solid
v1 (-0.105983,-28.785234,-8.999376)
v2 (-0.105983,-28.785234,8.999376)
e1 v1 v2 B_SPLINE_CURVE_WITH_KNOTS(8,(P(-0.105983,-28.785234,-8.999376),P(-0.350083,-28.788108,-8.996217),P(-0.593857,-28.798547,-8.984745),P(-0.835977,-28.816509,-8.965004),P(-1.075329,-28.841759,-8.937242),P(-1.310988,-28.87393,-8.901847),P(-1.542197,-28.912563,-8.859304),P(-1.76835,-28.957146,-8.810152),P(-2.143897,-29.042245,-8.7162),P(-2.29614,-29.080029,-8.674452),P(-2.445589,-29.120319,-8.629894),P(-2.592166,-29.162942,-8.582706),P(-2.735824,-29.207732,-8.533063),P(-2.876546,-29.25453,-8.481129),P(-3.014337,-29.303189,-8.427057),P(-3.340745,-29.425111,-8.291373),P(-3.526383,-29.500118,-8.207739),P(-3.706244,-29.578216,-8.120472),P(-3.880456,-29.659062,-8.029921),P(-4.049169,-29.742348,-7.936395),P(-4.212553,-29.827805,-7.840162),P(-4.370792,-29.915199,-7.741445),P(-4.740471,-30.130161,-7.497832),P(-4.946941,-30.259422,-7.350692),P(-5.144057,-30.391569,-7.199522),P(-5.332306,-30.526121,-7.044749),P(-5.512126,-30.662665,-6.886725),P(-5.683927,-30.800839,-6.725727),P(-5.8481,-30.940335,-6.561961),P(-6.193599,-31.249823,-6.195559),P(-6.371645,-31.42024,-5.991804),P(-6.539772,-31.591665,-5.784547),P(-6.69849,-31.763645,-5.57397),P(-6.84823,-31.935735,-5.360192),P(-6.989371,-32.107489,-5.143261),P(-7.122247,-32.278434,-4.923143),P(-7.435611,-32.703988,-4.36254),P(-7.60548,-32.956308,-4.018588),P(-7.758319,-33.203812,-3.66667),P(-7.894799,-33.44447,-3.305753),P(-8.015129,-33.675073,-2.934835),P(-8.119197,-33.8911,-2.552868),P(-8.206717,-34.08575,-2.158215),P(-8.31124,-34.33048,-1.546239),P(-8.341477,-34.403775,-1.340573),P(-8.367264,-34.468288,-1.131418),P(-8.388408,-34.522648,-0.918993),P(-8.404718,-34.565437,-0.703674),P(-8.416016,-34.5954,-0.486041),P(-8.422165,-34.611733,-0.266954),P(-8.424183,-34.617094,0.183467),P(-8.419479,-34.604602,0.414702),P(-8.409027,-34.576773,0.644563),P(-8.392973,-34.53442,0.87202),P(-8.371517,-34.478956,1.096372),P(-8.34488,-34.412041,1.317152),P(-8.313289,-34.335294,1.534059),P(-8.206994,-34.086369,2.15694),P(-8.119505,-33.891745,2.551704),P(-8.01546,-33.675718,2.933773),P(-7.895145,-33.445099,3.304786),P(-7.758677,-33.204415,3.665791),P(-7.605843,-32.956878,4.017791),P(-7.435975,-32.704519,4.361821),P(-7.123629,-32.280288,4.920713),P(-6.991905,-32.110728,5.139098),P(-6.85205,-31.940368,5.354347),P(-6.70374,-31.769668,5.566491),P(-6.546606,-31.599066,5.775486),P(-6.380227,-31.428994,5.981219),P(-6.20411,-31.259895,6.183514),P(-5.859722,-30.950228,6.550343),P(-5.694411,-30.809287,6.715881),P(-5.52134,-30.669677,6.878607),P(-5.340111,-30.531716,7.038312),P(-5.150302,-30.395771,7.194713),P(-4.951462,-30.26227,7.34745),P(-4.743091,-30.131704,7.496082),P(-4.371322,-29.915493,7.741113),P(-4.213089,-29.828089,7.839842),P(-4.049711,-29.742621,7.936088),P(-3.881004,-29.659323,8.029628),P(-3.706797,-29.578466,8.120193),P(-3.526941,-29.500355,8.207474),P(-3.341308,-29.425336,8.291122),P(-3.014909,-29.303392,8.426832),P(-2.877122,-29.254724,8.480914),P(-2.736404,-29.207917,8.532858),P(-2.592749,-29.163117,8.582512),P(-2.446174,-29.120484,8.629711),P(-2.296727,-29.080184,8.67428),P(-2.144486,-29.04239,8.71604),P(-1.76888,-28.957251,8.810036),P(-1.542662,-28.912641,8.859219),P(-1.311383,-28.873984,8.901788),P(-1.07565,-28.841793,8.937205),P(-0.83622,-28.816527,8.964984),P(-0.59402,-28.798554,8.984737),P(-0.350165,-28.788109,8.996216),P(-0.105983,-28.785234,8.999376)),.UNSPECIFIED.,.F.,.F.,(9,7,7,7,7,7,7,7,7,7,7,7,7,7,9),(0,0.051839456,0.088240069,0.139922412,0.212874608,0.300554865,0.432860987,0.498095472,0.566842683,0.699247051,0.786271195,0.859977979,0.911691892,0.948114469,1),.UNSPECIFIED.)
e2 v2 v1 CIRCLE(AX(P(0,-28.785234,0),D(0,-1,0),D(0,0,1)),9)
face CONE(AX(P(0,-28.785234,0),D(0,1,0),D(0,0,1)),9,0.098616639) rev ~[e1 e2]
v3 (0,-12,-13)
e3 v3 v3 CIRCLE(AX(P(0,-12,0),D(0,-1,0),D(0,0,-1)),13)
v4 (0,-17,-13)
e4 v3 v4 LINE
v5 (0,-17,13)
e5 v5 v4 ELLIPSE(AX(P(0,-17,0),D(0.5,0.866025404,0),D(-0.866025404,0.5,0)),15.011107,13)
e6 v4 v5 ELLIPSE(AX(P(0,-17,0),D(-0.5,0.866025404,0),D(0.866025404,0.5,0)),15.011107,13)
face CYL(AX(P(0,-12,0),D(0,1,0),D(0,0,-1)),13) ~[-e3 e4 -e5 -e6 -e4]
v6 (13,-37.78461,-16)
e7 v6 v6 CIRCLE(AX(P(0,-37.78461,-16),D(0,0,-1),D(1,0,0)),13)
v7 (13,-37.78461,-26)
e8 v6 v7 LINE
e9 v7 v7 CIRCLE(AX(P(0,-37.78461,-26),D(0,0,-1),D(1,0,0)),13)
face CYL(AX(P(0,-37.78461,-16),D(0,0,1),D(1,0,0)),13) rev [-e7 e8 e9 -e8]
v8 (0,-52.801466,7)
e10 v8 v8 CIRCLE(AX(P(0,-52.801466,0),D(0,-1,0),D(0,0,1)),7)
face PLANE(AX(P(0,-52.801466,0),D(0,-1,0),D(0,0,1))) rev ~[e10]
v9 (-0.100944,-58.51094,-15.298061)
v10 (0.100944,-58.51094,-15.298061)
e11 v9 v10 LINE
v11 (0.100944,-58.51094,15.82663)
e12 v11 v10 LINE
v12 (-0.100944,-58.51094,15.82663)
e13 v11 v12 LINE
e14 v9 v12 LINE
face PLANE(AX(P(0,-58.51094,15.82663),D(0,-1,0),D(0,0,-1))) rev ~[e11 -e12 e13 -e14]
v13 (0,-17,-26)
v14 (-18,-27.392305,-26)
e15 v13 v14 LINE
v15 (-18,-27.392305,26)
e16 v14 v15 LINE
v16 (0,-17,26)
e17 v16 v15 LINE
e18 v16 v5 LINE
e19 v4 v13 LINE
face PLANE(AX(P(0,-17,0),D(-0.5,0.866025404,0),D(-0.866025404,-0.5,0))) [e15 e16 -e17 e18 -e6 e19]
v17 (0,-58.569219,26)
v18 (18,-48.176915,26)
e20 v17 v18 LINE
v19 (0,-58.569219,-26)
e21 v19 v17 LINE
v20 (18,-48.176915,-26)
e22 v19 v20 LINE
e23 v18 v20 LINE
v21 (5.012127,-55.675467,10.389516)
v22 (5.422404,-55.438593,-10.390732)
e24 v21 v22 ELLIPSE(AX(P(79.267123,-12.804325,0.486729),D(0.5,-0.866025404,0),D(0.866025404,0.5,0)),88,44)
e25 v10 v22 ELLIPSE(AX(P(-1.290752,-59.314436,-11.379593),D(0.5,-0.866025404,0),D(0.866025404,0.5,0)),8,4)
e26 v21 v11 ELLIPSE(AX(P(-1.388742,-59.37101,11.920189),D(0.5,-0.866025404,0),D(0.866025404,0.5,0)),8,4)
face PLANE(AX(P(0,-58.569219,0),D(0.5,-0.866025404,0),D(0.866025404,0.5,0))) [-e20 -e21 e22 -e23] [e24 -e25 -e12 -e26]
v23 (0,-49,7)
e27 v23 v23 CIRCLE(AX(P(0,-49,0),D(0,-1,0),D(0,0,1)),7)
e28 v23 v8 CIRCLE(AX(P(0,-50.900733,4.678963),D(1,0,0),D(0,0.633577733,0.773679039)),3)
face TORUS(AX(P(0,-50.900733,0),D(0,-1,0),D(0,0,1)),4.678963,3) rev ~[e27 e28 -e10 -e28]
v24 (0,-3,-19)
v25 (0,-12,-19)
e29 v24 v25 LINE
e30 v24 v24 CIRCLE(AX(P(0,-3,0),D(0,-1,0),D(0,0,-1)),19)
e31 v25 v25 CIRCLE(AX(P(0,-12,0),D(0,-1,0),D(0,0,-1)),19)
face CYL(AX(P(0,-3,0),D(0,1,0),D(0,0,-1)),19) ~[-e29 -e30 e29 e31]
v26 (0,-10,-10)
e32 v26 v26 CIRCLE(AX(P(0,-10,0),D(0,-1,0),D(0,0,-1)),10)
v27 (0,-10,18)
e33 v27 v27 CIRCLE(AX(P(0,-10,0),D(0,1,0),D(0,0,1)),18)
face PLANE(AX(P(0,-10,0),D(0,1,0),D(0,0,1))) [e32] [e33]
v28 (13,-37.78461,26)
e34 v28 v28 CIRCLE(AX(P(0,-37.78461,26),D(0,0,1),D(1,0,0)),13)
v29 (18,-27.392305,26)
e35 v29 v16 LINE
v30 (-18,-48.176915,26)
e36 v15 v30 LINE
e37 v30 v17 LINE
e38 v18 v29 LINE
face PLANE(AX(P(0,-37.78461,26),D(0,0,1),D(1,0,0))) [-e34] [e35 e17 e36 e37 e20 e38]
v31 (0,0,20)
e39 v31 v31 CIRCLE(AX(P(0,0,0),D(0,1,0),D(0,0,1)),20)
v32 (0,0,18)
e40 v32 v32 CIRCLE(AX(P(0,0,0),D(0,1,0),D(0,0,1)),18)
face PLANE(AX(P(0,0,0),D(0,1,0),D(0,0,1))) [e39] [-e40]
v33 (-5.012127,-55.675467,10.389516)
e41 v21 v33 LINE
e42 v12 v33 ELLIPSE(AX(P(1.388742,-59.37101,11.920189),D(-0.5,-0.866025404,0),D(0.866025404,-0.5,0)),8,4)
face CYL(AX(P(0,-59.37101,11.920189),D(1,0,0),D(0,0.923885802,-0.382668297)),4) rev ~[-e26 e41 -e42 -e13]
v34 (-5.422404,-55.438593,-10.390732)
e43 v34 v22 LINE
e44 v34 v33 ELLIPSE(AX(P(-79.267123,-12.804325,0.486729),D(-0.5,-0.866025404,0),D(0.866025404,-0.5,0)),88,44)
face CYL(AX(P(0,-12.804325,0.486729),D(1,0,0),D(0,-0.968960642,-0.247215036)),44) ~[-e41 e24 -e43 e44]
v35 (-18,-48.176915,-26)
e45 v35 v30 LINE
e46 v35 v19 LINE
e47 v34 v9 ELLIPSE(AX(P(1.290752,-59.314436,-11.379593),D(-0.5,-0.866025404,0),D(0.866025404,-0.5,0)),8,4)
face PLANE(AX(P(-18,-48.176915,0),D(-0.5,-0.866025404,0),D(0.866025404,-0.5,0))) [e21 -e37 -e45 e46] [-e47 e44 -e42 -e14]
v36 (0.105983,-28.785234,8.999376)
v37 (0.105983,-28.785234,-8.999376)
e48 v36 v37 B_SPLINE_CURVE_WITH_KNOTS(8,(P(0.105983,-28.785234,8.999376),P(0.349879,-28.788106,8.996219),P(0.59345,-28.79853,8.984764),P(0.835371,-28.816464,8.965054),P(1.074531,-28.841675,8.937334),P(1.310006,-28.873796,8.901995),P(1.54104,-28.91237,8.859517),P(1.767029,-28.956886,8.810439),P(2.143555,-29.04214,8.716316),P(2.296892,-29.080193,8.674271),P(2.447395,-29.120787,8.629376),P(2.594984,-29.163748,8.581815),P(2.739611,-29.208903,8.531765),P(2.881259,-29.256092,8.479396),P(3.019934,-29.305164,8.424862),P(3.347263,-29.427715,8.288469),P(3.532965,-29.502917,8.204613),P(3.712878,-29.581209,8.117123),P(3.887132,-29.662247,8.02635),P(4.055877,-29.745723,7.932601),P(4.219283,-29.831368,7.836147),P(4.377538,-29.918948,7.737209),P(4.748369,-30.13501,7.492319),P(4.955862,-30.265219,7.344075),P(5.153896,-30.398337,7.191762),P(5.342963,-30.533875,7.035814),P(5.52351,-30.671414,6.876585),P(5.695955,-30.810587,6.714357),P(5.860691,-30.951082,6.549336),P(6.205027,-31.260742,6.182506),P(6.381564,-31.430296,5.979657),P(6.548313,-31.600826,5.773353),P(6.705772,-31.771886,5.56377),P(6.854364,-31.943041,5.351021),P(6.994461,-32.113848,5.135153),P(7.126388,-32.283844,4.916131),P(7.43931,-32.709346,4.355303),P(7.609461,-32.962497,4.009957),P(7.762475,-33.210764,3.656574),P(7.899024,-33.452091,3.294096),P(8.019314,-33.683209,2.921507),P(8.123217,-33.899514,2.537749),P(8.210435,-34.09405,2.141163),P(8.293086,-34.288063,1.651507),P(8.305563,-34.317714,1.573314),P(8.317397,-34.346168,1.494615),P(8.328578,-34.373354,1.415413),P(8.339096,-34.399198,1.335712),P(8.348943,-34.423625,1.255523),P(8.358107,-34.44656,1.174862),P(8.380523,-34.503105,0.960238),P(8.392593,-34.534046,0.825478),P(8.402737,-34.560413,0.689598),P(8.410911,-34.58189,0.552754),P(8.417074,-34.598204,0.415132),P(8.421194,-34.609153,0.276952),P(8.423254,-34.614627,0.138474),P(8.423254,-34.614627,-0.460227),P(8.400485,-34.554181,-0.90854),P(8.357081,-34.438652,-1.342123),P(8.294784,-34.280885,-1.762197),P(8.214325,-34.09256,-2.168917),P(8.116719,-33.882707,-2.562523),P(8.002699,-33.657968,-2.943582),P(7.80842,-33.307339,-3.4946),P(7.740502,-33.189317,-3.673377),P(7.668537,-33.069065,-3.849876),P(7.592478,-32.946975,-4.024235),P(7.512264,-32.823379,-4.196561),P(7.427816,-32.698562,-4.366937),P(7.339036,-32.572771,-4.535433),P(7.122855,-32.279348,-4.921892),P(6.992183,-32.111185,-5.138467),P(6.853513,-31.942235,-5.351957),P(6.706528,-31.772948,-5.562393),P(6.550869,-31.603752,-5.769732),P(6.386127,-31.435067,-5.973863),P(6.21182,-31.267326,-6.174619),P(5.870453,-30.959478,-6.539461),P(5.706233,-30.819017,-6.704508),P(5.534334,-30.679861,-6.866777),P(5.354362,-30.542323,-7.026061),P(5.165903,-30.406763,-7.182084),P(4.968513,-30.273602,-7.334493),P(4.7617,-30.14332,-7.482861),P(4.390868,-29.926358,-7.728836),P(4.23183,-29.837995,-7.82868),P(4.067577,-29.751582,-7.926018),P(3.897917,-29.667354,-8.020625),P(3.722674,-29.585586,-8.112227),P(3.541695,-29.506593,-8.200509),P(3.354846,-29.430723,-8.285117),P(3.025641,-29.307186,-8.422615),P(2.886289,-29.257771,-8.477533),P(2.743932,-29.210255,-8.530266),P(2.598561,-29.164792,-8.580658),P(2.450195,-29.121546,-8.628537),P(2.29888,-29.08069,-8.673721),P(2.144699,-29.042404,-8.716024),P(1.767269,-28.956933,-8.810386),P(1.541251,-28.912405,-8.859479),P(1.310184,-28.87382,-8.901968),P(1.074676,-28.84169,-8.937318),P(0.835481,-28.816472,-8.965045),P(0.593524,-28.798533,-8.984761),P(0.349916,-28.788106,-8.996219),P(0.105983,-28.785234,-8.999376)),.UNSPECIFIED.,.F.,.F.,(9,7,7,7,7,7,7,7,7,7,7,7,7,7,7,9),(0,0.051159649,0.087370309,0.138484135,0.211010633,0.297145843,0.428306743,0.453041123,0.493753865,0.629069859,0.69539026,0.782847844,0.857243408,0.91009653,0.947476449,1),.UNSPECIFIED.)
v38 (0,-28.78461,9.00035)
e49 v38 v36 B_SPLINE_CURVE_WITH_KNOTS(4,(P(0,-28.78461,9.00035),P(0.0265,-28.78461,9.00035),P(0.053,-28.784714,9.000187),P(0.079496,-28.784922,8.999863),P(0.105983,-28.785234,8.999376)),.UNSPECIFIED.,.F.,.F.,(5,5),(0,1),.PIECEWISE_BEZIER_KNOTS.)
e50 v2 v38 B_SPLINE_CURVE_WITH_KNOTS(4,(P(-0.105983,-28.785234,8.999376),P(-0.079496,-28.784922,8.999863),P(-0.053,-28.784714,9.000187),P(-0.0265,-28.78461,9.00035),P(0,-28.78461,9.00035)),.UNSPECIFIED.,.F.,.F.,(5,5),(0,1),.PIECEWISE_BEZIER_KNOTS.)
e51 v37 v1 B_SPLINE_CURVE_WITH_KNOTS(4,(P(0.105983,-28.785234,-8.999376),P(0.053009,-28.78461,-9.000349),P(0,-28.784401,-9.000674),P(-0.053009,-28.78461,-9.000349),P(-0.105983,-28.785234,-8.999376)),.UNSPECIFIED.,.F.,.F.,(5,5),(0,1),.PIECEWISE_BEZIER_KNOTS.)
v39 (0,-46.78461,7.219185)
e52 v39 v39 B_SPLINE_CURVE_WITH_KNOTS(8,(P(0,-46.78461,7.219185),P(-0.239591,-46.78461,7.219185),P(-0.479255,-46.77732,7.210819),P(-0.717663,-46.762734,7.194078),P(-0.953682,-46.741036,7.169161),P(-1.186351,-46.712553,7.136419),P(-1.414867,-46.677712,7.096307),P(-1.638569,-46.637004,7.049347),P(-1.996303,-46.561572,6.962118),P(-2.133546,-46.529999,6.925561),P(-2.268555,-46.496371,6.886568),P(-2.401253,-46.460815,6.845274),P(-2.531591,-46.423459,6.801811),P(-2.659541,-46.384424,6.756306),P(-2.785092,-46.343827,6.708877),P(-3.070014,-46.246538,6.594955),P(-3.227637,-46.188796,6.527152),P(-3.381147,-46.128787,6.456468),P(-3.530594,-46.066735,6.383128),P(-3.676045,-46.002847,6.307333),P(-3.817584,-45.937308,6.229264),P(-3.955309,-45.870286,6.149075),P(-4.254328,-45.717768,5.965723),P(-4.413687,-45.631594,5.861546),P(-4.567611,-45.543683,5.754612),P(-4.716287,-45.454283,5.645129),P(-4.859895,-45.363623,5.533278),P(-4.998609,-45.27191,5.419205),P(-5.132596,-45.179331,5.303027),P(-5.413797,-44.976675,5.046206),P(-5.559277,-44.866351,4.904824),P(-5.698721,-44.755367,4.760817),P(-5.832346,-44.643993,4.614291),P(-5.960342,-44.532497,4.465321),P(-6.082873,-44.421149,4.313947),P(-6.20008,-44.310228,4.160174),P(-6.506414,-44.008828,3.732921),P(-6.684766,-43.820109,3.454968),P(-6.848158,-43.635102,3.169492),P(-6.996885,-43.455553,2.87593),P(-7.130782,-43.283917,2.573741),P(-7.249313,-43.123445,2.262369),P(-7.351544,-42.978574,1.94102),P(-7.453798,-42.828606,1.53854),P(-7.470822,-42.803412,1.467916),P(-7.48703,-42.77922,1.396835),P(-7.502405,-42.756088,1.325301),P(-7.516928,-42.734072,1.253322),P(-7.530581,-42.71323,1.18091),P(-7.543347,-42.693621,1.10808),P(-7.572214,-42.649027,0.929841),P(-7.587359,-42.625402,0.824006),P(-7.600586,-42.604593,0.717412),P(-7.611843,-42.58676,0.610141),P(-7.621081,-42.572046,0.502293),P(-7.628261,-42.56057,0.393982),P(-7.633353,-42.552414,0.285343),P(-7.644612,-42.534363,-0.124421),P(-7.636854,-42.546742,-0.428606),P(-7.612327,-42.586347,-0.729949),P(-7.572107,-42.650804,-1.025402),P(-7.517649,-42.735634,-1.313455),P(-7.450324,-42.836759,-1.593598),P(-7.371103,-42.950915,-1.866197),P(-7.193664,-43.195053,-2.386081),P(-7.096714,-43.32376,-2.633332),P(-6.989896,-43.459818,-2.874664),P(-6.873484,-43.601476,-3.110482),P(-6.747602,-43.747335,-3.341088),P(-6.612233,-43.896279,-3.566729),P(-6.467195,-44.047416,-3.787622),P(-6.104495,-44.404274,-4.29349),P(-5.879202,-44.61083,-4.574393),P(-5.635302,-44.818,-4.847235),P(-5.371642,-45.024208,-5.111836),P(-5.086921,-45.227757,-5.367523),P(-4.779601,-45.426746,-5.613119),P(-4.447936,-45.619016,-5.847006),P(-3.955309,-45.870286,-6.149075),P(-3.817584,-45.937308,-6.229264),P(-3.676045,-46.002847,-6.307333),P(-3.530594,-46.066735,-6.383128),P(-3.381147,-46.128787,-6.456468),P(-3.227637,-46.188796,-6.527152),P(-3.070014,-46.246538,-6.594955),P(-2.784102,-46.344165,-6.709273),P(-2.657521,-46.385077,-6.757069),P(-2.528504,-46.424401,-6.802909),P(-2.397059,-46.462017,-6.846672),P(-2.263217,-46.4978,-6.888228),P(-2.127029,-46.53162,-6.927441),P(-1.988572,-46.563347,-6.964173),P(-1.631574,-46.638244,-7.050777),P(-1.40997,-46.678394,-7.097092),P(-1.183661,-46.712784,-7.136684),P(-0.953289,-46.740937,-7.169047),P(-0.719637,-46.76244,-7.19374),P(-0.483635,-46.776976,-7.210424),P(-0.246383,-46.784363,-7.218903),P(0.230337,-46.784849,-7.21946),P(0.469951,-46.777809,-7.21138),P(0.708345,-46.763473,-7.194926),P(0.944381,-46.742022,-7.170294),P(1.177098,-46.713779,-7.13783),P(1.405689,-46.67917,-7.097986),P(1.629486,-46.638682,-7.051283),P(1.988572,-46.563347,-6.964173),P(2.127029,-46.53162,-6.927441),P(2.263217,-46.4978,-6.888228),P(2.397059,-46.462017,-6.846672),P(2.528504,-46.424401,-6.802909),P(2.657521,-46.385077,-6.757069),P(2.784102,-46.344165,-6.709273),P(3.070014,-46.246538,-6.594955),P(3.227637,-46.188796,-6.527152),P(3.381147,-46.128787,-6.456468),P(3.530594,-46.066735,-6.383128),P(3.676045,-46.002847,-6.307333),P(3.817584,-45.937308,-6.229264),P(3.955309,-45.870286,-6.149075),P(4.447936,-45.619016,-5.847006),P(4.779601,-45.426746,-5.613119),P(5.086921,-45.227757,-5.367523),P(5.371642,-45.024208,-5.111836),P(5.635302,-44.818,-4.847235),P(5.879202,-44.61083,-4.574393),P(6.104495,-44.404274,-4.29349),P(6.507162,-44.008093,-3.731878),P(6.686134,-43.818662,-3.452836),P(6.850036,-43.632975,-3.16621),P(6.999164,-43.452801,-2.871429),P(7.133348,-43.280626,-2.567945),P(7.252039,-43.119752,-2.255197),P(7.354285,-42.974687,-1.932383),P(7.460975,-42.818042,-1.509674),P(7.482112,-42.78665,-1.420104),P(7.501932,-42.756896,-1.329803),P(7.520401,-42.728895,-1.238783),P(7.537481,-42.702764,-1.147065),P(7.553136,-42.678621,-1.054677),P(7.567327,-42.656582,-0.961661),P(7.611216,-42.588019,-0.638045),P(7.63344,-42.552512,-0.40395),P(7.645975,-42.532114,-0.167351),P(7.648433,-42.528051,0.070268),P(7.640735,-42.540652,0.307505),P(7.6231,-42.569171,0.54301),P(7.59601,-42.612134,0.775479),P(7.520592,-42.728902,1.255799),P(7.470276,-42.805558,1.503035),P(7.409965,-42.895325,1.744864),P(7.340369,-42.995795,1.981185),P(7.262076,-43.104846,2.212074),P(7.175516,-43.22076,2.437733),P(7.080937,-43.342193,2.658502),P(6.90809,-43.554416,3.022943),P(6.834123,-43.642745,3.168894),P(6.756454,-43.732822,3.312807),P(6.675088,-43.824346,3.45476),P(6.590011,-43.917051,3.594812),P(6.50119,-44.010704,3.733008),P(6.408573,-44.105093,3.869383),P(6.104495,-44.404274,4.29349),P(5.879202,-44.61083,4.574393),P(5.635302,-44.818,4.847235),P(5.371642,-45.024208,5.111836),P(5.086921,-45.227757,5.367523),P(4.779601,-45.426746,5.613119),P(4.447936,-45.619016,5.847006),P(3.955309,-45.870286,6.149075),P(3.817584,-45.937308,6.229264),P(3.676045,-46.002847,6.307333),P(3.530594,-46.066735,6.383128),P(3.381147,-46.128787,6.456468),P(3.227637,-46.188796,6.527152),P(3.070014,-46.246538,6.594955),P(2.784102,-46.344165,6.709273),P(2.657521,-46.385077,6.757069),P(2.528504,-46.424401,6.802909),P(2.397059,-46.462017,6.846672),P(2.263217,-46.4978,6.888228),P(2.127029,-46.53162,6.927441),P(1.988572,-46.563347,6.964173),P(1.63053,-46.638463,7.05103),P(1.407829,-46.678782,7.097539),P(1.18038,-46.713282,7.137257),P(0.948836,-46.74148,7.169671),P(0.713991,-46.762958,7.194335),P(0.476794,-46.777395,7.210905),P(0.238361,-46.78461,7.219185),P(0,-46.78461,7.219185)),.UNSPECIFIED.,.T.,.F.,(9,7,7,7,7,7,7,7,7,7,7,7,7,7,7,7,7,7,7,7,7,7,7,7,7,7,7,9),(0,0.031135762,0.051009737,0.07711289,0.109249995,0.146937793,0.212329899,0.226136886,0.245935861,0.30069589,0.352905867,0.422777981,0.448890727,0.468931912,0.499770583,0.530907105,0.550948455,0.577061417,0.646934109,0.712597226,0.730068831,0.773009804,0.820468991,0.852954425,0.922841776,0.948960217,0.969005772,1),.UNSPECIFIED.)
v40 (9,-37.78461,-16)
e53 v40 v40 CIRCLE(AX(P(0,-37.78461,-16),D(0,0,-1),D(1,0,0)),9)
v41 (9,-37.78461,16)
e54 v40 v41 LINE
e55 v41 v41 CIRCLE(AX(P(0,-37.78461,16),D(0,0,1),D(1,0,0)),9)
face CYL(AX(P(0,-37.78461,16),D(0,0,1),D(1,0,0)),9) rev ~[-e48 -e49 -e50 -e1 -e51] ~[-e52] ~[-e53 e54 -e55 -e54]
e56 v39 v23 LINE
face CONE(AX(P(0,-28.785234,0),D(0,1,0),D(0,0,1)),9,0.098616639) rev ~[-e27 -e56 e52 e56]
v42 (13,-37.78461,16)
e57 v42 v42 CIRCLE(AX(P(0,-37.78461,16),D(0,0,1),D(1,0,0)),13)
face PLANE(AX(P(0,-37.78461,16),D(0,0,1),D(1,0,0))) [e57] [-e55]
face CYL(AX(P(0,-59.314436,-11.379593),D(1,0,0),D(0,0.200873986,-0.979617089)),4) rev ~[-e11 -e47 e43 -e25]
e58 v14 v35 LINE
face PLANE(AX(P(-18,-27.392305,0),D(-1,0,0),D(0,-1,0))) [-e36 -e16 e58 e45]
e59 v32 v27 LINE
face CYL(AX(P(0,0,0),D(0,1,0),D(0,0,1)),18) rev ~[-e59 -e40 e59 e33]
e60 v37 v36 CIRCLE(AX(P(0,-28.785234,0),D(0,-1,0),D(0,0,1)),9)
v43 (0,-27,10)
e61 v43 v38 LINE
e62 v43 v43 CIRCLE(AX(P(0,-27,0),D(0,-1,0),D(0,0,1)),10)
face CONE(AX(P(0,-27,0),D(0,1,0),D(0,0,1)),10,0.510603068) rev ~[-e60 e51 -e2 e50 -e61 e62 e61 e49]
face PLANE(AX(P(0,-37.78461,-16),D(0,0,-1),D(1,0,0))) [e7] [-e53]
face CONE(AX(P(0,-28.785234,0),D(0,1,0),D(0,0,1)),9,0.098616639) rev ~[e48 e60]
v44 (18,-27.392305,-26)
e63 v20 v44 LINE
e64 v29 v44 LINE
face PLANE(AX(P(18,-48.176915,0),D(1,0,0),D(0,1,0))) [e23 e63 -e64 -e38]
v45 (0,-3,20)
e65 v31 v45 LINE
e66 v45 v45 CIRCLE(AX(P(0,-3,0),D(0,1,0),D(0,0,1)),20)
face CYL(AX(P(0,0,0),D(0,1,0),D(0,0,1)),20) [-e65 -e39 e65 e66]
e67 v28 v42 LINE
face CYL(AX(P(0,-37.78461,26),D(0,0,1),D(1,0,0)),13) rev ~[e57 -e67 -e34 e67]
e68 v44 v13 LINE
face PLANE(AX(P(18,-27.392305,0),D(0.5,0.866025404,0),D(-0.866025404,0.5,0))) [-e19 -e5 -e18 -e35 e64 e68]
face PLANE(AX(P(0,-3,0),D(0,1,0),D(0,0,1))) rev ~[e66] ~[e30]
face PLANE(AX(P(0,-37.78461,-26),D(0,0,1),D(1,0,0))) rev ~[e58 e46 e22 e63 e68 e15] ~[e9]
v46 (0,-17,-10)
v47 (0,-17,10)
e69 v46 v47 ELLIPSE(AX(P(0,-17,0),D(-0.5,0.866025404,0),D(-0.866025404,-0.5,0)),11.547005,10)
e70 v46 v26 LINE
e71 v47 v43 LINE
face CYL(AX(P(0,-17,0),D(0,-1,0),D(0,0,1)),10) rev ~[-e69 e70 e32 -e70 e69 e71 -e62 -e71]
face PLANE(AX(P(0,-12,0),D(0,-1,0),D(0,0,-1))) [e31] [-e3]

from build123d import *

# Parameters (mm, degrees)
SKETCH4_R           = 20
BOSS_EXTRUDE2_DEPTH = 3
SKETCH5_R           = 19
BOSS_EXTRUDE3_DEPTH = 9
SKETCH6_R           = 13
BOSS_EXTRUDE4_DEPTH = 17
SKETCH7_R           = 18
CUT_EXTRUDE3_DEPTH  = 10
SKETCH8_R           = 10
CUT_EXTRUDE4_DEPTH  = 19
BOSS_EXTRUDE5_DEPTH = 26
SKETCH10_R          = 13
CUT_EXTRUDE5_DEPTH  = 10
SKETCH11_R          = 9
CUT_EXTRUDE6_DEPTH  = 26
CUT_EXTRUDE7_START  = -10
SKETCH12_R          = 13
CUT_EXTRUDE7_DEPTH  = 10
CUT_EXTRUDE8_START  = -20
SKETCH13_R          = 9
CUT_EXTRUDE8_DEPTH  = 20
CUT_EXTRUDE15_DEPTH = 10.15


with BuildPart() as part:
    # Sketch4 → Boss-Extrude2 (new body)
    with BuildSketch(Plane(origin=(0, 0, 0), x_dir=(1, 0, 0), z_dir=(0, 1, 0))):
        with Locations(Location((0, 0, 0), (0, 0, 270))):
            Circle(SKETCH4_R)
    extrude(amount=-BOSS_EXTRUDE2_DEPTH)

    # Sketch5 → Boss-Extrude3 (add)
    with BuildSketch(Plane.XZ.offset(3)):
        with Locations(Location((0, 0, 0), (0, 0, 270))):
            Circle(SKETCH5_R)
    extrude(amount=BOSS_EXTRUDE3_DEPTH)

    # Sketch6 → Boss-Extrude4 (add)
    with BuildSketch(Plane.XZ.offset(12)):
        with Locations(Location((0, 0, 0), (0, 0, 270))):
            Circle(SKETCH6_R)
    extrude(amount=BOSS_EXTRUDE4_DEPTH)

    # Sketch7 → Cut-Extrude3 (cut)
    with BuildSketch(Plane(origin=(0, 0, 0), x_dir=(1, 0, 0), z_dir=(0, 1, 0))):
        with Locations(Location((0, 0, 0), (0, 0, 270))):
            Circle(SKETCH7_R)
    extrude(amount=-CUT_EXTRUDE3_DEPTH, mode=Mode.SUBTRACT)

    # Sketch8 → Cut-Extrude4 (cut)
    with BuildSketch(Plane.XZ.offset(29)):
        with Locations(Location((0, 0, 0), (0, 0, 270))):
            Circle(SKETCH8_R)
    extrude(amount=-CUT_EXTRUDE4_DEPTH, mode=Mode.SUBTRACT)

    # Sketch9 → Boss-Extrude5 (add, symmetric)
    with BuildSketch(Plane.XY):
        Polygon((0, -17), (-18, -27.392304845), (-18, -48.176914536), (0, -58.569219382), (18, -48.176914536), (18, -27.392304845), align=None)
    extrude(amount=BOSS_EXTRUDE5_DEPTH, both=True)

    # Sketch10 → Cut-Extrude5 (cut)
    with BuildSketch(Plane.XY.offset(26)):
        with Locations((0, -37.784609691)):
            Circle(SKETCH10_R)
    extrude(amount=-CUT_EXTRUDE5_DEPTH, mode=Mode.SUBTRACT)

    # Sketch11 → Cut-Extrude6 (cut)
    with BuildSketch(Plane.XY.offset(16)):
        with Locations((0, -37.784609691)):
            Circle(SKETCH11_R)
    extrude(amount=-CUT_EXTRUDE6_DEPTH, mode=Mode.SUBTRACT)

    # Sketch12 → Cut-Extrude7 (cut)
    with BuildSketch(Plane(origin=(0, 0, -26), x_dir=(-1, 0, 0), z_dir=(0, 0, -1)).offset(CUT_EXTRUDE7_START)):
        with Locations(Location((0, -37.784609691, 0), (0, 0, 180))):
            Circle(SKETCH12_R)
    extrude(amount=CUT_EXTRUDE7_DEPTH, mode=Mode.SUBTRACT)

    # Sketch13 → Cut-Extrude8 (cut)
    with BuildSketch(Plane(origin=(0, 0, -16), x_dir=(-1, 0, 0), z_dir=(0, 0, -1)).offset(CUT_EXTRUDE8_START)):
        with Locations(Location((0, -37.784609691, 0), (0, 0, 180))):
            Circle(SKETCH13_R)
    extrude(amount=CUT_EXTRUDE8_DEPTH, mode=Mode.SUBTRACT)

    # Sketch30 → Cut-Extrude15 (cut, symmetric)
    with BuildSketch(Plane(origin=(0, 0, 0), x_dir=(0, 0, -1), z_dir=(1, 0, 0))):
        with BuildLine():
            Line((-15.826629517, -58.510939608), (15.298060877, -58.510939608))
            ThreePointArc((15.298060877, -58.510939608), (13.502204004, -55.924078568), (10.390732376, -55.438592985))
            ThreePointArc((10.390732376, -55.438592985), (0.01479369, -56.801466399), (-10.38951563, -55.675466788))
            ThreePointArc((-10.38951563, -55.675466788), (-13.769795356, -55.824327649), (-15.826629517, -58.510939608))
        make_face()
    extrude(amount=CUT_EXTRUDE15_DEPTH, both=True, mode=Mode.SUBTRACT)

    # Sketch36 → Cut-Revolve2 (revolve, cut)
    with BuildSketch(Plane(origin=(0, 0, 0), x_dir=(0, 0, -1), z_dir=(1, 0, 0))):
        with BuildLine():
            Line((-7, -52.801466399), (0, -52.801466399))
            Line((0, -52.801466399), (0, -17))
            Line((0, -17), (-10, -17))
            Line((-10, -17), (-10, -27))
            Line((-10, -27), (-9, -28.785233738))
            Line((-9, -28.785233738), (-7, -49))
            ThreePointArc((-7, -49), (-7.678962882, -50.900733199), (-7, -52.801466399))
        make_face()
    revolve(axis=Axis((0, -17, 0), (0, -1, 0)), mode=Mode.SUBTRACT)


solid = part.part
